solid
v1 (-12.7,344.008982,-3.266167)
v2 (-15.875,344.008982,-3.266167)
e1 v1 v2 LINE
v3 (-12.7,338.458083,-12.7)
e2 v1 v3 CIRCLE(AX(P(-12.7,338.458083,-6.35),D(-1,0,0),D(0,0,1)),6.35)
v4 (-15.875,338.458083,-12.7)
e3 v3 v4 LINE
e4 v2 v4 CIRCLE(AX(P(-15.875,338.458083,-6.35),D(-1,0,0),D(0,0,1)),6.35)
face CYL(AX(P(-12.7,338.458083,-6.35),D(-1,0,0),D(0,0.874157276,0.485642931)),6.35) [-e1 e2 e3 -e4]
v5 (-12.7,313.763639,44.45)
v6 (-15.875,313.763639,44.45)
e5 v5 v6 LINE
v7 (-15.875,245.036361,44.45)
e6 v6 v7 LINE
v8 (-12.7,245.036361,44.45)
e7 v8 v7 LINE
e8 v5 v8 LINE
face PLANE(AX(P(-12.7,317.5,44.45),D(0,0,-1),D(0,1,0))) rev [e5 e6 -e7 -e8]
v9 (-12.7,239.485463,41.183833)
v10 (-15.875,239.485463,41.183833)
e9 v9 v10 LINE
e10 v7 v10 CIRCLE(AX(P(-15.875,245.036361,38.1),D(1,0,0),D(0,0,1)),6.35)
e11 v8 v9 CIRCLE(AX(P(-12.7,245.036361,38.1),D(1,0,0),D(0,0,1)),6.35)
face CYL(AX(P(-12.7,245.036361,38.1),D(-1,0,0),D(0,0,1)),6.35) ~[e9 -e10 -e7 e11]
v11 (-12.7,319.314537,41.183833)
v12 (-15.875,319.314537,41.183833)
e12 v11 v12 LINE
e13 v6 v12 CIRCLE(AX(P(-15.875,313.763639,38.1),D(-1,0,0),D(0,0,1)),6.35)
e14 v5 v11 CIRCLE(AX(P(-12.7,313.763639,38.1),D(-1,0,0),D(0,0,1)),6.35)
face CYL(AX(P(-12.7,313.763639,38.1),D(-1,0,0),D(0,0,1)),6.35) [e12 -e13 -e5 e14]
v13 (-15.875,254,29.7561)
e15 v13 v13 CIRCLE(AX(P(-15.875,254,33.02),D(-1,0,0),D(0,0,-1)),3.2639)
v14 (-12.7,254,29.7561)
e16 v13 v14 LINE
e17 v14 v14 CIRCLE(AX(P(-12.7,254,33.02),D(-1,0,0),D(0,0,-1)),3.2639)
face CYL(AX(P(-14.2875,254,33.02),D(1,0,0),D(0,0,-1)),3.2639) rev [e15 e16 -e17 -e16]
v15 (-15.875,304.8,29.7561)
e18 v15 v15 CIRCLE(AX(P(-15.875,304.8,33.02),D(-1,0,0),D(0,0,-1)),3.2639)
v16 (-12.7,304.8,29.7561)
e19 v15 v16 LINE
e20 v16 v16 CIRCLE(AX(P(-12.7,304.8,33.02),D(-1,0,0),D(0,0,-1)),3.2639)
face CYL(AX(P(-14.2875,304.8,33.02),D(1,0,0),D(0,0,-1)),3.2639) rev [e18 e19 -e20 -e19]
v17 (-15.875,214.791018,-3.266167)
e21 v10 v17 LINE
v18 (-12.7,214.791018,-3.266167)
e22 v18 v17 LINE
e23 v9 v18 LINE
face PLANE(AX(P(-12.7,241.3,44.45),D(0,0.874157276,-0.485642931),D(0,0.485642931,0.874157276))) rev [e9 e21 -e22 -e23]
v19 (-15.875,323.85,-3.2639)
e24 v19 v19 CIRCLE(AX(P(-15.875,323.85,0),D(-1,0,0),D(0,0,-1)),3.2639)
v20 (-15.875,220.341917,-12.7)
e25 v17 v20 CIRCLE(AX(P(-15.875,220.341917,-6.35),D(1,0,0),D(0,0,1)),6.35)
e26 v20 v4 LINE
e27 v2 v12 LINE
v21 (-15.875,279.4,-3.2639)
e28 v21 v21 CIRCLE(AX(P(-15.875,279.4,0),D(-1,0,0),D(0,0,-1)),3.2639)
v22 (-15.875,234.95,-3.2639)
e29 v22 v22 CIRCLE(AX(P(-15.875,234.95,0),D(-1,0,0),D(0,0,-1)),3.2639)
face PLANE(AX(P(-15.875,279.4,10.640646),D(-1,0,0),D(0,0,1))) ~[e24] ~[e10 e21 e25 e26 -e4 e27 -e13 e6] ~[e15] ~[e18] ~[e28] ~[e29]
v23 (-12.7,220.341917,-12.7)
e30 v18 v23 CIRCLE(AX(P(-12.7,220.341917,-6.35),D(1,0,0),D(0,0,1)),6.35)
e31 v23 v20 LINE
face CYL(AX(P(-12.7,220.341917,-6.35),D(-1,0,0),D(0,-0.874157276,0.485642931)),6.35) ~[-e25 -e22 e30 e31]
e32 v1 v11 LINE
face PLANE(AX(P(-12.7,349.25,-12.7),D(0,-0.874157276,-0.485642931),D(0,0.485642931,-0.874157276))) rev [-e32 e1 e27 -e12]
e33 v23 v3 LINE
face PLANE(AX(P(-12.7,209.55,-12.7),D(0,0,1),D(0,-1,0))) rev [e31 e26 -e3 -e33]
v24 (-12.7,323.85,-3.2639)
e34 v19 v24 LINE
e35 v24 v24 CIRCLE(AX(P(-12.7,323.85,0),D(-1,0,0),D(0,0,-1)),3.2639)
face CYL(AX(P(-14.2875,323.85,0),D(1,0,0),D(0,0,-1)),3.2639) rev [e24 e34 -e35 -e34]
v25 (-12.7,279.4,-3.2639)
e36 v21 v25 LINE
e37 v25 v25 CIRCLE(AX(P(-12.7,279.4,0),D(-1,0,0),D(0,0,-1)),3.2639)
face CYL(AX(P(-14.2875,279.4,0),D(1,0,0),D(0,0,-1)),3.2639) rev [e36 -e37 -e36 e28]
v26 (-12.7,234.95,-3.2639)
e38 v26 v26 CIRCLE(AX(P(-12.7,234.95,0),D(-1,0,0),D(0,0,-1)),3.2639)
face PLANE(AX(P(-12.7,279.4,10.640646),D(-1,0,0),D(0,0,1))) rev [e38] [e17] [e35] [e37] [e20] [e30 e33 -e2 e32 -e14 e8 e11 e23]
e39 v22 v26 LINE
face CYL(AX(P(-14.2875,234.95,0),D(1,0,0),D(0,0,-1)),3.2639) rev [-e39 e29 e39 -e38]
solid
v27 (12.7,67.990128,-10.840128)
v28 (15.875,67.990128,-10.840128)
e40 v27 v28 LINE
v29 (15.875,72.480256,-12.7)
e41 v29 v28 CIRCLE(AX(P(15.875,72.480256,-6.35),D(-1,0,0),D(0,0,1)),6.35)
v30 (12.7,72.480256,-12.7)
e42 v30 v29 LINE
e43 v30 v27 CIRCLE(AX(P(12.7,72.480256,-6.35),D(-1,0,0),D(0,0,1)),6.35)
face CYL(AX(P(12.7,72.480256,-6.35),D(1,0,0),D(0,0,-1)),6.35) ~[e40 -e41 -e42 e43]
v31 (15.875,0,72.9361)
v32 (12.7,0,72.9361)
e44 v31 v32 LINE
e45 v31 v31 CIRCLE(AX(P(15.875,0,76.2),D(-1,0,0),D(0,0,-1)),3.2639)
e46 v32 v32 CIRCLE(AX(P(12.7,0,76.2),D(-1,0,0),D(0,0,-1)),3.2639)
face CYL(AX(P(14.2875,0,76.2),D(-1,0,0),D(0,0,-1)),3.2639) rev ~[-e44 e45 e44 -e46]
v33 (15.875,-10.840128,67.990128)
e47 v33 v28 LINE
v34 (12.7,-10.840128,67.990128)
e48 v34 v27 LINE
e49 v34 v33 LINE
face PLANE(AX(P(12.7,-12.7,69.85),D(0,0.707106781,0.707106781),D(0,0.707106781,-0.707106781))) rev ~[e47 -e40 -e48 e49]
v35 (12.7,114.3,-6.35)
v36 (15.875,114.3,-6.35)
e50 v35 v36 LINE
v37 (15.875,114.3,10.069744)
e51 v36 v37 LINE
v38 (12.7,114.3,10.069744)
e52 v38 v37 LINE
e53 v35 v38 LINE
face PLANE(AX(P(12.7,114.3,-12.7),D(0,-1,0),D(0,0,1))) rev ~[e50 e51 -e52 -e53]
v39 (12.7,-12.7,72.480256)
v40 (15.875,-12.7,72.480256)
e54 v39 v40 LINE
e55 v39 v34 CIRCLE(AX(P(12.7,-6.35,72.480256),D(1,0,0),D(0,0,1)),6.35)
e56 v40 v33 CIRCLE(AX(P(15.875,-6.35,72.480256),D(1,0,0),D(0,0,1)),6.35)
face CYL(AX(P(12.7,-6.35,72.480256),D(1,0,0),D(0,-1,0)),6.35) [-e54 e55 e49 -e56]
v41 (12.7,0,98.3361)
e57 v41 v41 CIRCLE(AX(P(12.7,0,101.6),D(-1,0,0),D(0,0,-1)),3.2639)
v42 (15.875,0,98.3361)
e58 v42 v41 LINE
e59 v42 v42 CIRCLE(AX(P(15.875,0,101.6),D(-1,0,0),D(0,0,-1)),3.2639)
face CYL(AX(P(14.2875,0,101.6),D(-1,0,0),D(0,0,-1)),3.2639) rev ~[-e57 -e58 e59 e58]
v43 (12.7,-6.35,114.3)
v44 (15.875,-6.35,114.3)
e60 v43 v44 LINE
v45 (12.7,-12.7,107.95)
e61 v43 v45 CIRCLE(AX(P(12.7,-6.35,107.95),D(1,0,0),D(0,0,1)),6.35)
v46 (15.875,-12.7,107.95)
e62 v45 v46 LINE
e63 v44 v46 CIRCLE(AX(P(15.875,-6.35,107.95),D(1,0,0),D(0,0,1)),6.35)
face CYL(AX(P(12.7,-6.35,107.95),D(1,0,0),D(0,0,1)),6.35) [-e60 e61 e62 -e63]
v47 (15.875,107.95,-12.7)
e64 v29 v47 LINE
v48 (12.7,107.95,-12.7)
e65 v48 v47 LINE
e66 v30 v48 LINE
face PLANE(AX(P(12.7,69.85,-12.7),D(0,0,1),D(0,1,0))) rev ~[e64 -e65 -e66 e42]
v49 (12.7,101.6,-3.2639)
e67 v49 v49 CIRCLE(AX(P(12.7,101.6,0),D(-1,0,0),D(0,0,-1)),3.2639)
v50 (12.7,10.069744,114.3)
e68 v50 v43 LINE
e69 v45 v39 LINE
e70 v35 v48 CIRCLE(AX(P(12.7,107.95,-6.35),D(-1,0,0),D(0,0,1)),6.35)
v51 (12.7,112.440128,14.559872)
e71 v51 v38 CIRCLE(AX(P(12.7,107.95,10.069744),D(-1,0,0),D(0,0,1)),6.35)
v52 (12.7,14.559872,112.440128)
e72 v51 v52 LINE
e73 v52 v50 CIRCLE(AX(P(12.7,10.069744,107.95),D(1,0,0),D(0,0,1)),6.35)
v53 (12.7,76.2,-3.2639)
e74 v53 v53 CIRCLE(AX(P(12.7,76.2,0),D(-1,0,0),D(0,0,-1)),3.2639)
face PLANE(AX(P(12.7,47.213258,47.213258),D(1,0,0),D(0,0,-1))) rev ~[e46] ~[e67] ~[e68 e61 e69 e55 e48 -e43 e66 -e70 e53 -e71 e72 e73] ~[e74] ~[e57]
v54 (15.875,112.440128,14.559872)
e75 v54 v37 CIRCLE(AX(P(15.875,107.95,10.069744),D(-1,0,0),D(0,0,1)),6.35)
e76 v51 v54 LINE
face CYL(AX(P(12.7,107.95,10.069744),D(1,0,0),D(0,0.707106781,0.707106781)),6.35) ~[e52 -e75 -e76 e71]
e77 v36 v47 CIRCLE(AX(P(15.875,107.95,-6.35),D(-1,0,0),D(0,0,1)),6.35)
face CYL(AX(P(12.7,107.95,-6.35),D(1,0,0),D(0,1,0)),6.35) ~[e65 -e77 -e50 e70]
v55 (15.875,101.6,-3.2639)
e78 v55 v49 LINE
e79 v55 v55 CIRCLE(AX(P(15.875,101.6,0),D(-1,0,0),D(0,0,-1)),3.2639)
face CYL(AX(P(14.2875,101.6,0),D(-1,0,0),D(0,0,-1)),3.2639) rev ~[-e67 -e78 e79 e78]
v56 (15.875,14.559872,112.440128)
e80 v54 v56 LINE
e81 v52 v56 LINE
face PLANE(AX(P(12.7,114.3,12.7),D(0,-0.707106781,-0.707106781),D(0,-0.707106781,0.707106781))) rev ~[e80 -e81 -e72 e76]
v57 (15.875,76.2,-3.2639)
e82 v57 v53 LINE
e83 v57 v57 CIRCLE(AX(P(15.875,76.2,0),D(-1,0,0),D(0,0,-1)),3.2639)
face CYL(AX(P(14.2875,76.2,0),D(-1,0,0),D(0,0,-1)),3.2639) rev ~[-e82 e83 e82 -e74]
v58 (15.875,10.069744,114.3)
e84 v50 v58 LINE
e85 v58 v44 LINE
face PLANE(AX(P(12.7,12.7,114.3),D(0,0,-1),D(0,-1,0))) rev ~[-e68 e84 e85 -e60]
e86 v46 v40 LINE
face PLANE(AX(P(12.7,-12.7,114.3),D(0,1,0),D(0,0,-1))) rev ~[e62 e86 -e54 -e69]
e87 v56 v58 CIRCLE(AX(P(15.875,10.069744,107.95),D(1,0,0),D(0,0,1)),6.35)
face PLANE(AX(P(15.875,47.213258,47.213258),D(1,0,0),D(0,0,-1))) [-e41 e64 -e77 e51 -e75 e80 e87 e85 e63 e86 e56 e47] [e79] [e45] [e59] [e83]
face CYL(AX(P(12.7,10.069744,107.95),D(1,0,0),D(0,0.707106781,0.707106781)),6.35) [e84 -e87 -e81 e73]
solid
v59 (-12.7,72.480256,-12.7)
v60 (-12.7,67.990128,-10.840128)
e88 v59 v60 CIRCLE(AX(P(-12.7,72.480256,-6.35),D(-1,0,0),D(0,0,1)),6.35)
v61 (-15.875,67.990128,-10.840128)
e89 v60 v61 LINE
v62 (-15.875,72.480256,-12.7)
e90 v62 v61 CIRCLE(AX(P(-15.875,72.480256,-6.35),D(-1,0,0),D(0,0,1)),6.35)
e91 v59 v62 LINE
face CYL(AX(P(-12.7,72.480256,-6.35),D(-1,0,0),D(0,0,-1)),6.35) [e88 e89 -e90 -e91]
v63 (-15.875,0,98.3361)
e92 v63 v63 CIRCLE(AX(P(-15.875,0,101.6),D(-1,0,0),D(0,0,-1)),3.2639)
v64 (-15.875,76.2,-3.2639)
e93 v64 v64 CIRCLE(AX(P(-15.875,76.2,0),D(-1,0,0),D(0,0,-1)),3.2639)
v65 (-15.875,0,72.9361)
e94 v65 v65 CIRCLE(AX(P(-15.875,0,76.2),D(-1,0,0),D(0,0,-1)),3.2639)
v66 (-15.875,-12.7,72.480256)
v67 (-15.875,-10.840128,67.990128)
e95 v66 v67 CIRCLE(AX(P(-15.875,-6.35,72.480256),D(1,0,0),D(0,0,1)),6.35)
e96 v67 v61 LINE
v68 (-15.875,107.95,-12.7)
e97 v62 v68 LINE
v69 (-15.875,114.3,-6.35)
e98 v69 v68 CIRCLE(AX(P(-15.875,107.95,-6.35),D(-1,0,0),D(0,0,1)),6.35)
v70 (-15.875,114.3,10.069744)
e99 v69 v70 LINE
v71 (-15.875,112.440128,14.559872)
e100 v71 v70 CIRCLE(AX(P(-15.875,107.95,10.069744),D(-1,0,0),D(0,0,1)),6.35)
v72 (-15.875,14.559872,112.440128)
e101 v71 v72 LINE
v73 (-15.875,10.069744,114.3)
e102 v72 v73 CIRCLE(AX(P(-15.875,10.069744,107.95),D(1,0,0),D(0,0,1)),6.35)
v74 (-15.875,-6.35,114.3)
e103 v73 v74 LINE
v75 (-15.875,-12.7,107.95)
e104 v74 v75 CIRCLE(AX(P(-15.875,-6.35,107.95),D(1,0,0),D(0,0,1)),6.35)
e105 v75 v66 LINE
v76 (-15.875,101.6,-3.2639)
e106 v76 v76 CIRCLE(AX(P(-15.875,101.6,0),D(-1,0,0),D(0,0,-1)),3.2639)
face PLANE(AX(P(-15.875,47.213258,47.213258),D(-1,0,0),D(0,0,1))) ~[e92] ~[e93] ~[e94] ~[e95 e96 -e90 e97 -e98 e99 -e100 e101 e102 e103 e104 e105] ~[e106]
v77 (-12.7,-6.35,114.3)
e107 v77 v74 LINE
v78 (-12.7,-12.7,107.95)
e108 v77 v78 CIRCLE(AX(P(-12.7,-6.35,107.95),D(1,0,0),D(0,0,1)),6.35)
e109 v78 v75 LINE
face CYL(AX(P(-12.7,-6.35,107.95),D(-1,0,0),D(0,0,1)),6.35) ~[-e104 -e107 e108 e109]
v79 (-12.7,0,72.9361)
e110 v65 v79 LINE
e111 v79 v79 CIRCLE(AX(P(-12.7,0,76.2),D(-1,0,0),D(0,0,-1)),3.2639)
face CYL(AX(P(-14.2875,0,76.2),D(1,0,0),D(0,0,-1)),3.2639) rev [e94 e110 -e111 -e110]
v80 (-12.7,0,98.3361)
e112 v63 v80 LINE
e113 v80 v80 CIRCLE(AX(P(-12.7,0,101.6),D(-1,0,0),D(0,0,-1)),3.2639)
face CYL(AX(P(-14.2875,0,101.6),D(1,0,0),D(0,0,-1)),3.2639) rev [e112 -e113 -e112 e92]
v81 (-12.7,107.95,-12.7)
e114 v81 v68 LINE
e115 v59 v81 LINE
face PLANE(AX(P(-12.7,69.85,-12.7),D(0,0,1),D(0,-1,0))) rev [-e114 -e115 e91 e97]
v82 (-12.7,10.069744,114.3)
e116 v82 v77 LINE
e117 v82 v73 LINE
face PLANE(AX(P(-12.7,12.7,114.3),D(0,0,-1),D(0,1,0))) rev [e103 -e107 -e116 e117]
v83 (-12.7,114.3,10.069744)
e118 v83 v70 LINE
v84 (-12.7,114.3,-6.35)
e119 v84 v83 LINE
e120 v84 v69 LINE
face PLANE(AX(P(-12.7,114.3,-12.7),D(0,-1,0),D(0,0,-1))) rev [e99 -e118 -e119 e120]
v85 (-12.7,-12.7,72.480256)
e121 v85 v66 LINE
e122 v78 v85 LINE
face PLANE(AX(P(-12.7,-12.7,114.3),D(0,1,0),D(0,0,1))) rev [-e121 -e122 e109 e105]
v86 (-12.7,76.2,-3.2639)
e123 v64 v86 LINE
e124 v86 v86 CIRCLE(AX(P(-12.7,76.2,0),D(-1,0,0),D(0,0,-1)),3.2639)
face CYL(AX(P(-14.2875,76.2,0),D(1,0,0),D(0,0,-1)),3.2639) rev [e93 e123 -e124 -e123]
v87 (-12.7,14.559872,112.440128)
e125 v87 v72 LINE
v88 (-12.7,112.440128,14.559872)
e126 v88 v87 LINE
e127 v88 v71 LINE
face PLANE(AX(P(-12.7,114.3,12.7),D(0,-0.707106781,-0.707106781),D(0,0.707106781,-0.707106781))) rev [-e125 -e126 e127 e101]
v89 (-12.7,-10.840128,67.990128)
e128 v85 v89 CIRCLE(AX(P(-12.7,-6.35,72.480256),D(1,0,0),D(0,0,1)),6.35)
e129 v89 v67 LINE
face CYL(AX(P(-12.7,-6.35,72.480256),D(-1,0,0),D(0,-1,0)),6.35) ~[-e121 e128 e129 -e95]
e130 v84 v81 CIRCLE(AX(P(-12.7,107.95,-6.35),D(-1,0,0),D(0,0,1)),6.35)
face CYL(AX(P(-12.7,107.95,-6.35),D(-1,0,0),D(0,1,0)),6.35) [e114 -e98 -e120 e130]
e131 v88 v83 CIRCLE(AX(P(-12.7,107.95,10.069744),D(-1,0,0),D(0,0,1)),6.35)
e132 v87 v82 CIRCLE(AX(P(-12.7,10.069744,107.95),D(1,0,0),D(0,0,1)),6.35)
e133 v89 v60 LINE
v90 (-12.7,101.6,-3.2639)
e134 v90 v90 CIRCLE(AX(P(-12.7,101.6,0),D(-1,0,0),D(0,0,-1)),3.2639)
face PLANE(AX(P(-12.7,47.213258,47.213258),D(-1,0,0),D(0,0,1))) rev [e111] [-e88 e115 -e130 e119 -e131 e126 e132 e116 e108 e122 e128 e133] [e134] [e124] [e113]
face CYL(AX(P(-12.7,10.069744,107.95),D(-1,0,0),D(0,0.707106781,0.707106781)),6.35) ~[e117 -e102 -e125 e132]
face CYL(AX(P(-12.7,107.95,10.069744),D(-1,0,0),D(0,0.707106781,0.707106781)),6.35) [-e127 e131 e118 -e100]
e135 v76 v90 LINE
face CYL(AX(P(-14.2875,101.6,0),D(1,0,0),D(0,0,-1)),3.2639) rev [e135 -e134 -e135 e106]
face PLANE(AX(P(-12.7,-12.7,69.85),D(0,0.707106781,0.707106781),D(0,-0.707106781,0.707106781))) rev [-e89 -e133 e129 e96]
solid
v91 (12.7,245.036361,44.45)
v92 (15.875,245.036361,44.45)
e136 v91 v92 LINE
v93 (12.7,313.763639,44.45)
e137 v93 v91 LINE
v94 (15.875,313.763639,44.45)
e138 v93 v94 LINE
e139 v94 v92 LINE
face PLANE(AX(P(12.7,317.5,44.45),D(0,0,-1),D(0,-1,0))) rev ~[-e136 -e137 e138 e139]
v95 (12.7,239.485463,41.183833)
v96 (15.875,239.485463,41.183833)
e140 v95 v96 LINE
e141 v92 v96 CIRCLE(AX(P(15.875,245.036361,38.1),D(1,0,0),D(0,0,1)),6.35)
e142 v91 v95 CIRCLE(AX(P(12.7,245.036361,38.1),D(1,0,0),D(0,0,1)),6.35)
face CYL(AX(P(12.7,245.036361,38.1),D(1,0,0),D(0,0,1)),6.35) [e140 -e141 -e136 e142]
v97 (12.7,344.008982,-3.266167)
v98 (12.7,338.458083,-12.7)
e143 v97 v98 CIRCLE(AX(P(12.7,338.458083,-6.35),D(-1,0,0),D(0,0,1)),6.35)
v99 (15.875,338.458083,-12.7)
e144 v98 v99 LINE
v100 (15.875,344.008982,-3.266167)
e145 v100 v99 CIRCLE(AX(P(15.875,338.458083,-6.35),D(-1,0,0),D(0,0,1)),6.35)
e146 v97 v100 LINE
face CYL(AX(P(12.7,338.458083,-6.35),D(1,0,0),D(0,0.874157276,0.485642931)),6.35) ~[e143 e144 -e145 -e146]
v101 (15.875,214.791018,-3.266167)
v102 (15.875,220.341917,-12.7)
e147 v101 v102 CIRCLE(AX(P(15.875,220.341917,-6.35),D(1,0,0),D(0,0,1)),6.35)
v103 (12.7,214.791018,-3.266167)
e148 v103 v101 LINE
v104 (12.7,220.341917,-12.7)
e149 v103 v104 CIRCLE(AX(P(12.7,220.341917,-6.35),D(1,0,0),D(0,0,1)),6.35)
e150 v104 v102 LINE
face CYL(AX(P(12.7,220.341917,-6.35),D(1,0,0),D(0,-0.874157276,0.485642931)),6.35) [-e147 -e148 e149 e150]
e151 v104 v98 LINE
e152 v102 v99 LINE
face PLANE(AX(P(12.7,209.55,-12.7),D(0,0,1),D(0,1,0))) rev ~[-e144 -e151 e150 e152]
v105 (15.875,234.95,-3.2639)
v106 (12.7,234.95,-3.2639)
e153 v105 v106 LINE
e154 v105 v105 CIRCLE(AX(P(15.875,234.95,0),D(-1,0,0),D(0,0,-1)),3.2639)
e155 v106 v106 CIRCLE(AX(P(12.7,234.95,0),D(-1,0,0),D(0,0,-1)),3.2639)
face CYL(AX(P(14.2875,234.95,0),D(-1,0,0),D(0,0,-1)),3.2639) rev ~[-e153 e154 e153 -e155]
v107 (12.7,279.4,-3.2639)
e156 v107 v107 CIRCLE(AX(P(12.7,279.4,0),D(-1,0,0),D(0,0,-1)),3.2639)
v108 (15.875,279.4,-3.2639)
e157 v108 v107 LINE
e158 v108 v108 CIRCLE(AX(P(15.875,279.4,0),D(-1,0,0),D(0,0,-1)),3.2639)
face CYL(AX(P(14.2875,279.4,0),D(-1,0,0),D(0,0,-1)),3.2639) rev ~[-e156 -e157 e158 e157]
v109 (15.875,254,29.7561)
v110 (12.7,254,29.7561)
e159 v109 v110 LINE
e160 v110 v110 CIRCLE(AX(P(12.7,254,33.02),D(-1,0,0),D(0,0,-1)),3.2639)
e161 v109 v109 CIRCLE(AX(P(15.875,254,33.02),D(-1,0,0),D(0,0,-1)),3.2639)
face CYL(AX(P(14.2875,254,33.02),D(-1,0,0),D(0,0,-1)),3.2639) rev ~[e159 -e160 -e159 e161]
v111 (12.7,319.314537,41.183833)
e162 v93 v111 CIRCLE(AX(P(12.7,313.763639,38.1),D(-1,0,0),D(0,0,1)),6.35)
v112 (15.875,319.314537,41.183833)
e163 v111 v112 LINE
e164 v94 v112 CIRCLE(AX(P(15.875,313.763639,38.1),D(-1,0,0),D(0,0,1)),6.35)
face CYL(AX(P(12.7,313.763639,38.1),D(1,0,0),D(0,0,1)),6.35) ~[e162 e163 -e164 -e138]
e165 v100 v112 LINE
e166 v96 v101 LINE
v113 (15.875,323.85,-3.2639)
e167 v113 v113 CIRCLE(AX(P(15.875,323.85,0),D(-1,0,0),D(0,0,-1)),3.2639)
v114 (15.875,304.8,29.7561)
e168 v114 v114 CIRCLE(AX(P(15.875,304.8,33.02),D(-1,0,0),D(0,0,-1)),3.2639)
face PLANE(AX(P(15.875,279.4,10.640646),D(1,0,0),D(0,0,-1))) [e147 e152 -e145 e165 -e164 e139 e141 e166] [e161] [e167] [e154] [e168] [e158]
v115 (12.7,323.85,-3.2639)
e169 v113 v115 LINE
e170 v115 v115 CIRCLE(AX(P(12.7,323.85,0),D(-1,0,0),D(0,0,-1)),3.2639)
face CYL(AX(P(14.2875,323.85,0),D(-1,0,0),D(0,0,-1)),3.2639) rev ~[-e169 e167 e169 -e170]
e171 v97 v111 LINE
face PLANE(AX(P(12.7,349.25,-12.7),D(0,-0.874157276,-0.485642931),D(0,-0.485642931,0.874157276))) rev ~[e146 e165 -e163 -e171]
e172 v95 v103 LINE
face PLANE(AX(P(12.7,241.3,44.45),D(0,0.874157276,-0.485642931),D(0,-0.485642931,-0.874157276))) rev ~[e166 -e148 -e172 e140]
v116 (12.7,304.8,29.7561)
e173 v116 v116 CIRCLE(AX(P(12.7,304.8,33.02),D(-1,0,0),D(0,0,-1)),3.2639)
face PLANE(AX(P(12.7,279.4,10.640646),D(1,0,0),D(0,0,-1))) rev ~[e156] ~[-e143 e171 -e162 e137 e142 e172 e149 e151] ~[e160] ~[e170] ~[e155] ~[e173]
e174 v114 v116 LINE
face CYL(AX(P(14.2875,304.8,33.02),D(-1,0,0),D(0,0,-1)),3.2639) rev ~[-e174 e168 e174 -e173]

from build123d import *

# Parameters (mm, degrees)
BOSS_EXTRUDE1_DEPTH              = 3.175
BOSS_EXTRUDE1_2_DEPTH            = 3.175
SKETCH3_W                        = 3.2639
SKETCH3_H                        = 3.175
F_1_4_CLEARANCE_HOLE1_AT_2_COUNT = 2
F_1_4_CLEARANCE_HOLE1_AT_2_PITCH = 88.9
F_1_4_CLEARANCE_HOLE1_AT_3_COUNT = 2
F_1_4_CLEARANCE_HOLE1_AT_3_PITCH = 222.25
F_1_4_CLEARANCE_HOLE1_AT_4_COUNT = 2
F_1_4_CLEARANCE_HOLE1_AT_4_PITCH = 247.65
F_1_4_CLEARANCE_HOLE1_AT_5_COUNT = 2
F_1_4_CLEARANCE_HOLE1_AT_5_PITCH = 339.413291578
F_1_4_CLEARANCE_HOLE1_AT_6_COUNT = 2
F_1_4_CLEARANCE_HOLE1_AT_6_PITCH = 332.693947195
F_1_4_CLEARANCE_HOLE1_AT_7_COUNT = 2
F_1_4_CLEARANCE_HOLE1_AT_7_PITCH = 44.45
F_1_4_CLEARANCE_HOLE1_AT_8_COUNT = 2
F_1_4_CLEARANCE_HOLE1_AT_8_PITCH = 38.12116079
F_1_4_CLEARANCE_HOLE1_AT_9_COUNT = 2
F_1_4_CLEARANCE_HOLE1_AT_9_PITCH = 77.261522765
FILLET1_R                        = 6.35
FILLET2_R                        = 6.35


with BuildPart() as part:
    # Sketch1 → Boss-Extrude1 (new body)
    with BuildSketch(Plane(origin=(12.7, 0, 0), x_dir=(0, 0, -1), z_dir=(1, 0, 0))):
        Polygon((-44.45, 317.5), (-44.45, 241.3), (12.7, 209.55), (12.7, 349.25), align=None)
    extrude(amount=BOSS_EXTRUDE1_DEPTH)

    # Sketch3 → 1/4 Clearance Hole1 (revolve, cut)
    with BuildSketch(Plane(origin=(15.875, 323.85, 0), x_dir=(0, 0, -1), z_dir=(0, 1, 0))):
        with Locations((1.63195, 1.5875)):
            Rectangle(SKETCH3_W, SKETCH3_H)
    f_1_4_clearance_hole1 = revolve(axis=Axis((22.225, 323.85, 0), (-1, 0, 0)), mode=Mode.SUBTRACT)

    # 1/4 Clearance Hole1 at 2: 1/4 Clearance Hole1 ×2
    with Locations(*[(0, -i * F_1_4_CLEARANCE_HOLE1_AT_2_PITCH, 0) for i in range(1, F_1_4_CLEARANCE_HOLE1_AT_2_COUNT)]):
        add(f_1_4_clearance_hole1, mode=Mode.SUBTRACT)

    # 1/4 Clearance Hole1 at 7: 1/4 Clearance Hole1 ×2
    with Locations(*[(0, -i * F_1_4_CLEARANCE_HOLE1_AT_7_PITCH, 0) for i in range(1, F_1_4_CLEARANCE_HOLE1_AT_7_COUNT)]):
        add(f_1_4_clearance_hole1, mode=Mode.SUBTRACT)

    # 1/4 Clearance Hole1 at 8: 1/4 Clearance Hole1 ×2
    with Locations(*[Vector(0, -0.49972245348957717, 0.8661855860486004) * (i * F_1_4_CLEARANCE_HOLE1_AT_8_PITCH) for i in range(1, F_1_4_CLEARANCE_HOLE1_AT_8_COUNT)]):
        add(f_1_4_clearance_hole1, mode=Mode.SUBTRACT)

    # 1/4 Clearance Hole1 at 9: 1/4 Clearance Hole1 ×2
    with Locations(*[Vector(0, -0.9040722665053035, 0.4273796168934165) * (i * F_1_4_CLEARANCE_HOLE1_AT_9_PITCH) for i in range(1, F_1_4_CLEARANCE_HOLE1_AT_9_COUNT)]):
        add(f_1_4_clearance_hole1, mode=Mode.SUBTRACT)

    # Fillet1
    fillet1_edges = [part.edges().sort_by_distance(p)[0] for p in [
        (14.2875, 349.25, -12.7),
        (14.2875, 209.55, -12.7),
        (14.2875, 241.3, 44.45),
        (14.2875, 317.5, 44.45),
    ]]
    fillet(fillet1_edges, radius=FILLET1_R)


with BuildPart() as body_2:
    # Sketch1 → Boss-Extrude1 2 (new body)
    with BuildSketch(Plane(origin=(12.7, 0, 0), x_dir=(0, 0, -1), z_dir=(1, 0, 0))):
        Polygon((-12.7, 114.3), (-114.3, 12.7), (-114.3, -12.7), (-69.85, -12.7), (12.7, 69.85), (12.7, 114.3), align=None)
    extrude(amount=BOSS_EXTRUDE1_2_DEPTH)

    # 1/4 Clearance Hole1 at 3: 1/4 Clearance Hole1 ×2
    with Locations(*[(0, -i * F_1_4_CLEARANCE_HOLE1_AT_3_PITCH, 0) for i in range(1, F_1_4_CLEARANCE_HOLE1_AT_3_COUNT)]):
        add(f_1_4_clearance_hole1, mode=Mode.SUBTRACT)

    # 1/4 Clearance Hole1 at 4: 1/4 Clearance Hole1 ×2
    with Locations(*[(0, -i * F_1_4_CLEARANCE_HOLE1_AT_4_PITCH, 0) for i in range(1, F_1_4_CLEARANCE_HOLE1_AT_4_COUNT)]):
        add(f_1_4_clearance_hole1, mode=Mode.SUBTRACT)

    # 1/4 Clearance Hole1 at 5: 1/4 Clearance Hole1 ×2
    with Locations(*[Vector(0, -0.954146487587723, 0.29934007453732503) * (i * F_1_4_CLEARANCE_HOLE1_AT_5_PITCH) for i in range(1, F_1_4_CLEARANCE_HOLE1_AT_5_COUNT)]):
        add(f_1_4_clearance_hole1, mode=Mode.SUBTRACT)

    # 1/4 Clearance Hole1 at 6: 1/4 Clearance Hole1 ×2
    with Locations(*[Vector(0, -0.973417168333576, 0.22903933372554747) * (i * F_1_4_CLEARANCE_HOLE1_AT_6_PITCH) for i in range(1, F_1_4_CLEARANCE_HOLE1_AT_6_COUNT)]):
        add(f_1_4_clearance_hole1, mode=Mode.SUBTRACT)

    # Fillet2
    fillet2_edges = [body_2.edges().sort_by_distance(p)[0] for p in [
        (14.2875, -12.7, 114.3),
        (14.2875, 12.7, 114.3),
        (14.2875, 114.3, 12.7),
        (14.2875, 114.3, -12.7),
        (14.2875, 69.85, -12.7),
        (14.2875, -12.7, 69.85),
    ]]
    fillet(fillet2_edges, radius=FILLET2_R)


with BuildPart() as body_3:
    # Mirror1: mirrored copy
    add(part.part.mirror(Plane(origin=(0, 0, 0), x_dir=(0, 0, 1), z_dir=(1, 0, 0))))


with BuildPart() as body_4:
    # Mirror1 2: mirrored copy
    add(body_2.part.mirror(Plane(origin=(0, 0, 0), x_dir=(0, 0, 1), z_dir=(1, 0, 0))))


solid = Compound([part.part, body_2.part, body_3.part, body_4.part])
